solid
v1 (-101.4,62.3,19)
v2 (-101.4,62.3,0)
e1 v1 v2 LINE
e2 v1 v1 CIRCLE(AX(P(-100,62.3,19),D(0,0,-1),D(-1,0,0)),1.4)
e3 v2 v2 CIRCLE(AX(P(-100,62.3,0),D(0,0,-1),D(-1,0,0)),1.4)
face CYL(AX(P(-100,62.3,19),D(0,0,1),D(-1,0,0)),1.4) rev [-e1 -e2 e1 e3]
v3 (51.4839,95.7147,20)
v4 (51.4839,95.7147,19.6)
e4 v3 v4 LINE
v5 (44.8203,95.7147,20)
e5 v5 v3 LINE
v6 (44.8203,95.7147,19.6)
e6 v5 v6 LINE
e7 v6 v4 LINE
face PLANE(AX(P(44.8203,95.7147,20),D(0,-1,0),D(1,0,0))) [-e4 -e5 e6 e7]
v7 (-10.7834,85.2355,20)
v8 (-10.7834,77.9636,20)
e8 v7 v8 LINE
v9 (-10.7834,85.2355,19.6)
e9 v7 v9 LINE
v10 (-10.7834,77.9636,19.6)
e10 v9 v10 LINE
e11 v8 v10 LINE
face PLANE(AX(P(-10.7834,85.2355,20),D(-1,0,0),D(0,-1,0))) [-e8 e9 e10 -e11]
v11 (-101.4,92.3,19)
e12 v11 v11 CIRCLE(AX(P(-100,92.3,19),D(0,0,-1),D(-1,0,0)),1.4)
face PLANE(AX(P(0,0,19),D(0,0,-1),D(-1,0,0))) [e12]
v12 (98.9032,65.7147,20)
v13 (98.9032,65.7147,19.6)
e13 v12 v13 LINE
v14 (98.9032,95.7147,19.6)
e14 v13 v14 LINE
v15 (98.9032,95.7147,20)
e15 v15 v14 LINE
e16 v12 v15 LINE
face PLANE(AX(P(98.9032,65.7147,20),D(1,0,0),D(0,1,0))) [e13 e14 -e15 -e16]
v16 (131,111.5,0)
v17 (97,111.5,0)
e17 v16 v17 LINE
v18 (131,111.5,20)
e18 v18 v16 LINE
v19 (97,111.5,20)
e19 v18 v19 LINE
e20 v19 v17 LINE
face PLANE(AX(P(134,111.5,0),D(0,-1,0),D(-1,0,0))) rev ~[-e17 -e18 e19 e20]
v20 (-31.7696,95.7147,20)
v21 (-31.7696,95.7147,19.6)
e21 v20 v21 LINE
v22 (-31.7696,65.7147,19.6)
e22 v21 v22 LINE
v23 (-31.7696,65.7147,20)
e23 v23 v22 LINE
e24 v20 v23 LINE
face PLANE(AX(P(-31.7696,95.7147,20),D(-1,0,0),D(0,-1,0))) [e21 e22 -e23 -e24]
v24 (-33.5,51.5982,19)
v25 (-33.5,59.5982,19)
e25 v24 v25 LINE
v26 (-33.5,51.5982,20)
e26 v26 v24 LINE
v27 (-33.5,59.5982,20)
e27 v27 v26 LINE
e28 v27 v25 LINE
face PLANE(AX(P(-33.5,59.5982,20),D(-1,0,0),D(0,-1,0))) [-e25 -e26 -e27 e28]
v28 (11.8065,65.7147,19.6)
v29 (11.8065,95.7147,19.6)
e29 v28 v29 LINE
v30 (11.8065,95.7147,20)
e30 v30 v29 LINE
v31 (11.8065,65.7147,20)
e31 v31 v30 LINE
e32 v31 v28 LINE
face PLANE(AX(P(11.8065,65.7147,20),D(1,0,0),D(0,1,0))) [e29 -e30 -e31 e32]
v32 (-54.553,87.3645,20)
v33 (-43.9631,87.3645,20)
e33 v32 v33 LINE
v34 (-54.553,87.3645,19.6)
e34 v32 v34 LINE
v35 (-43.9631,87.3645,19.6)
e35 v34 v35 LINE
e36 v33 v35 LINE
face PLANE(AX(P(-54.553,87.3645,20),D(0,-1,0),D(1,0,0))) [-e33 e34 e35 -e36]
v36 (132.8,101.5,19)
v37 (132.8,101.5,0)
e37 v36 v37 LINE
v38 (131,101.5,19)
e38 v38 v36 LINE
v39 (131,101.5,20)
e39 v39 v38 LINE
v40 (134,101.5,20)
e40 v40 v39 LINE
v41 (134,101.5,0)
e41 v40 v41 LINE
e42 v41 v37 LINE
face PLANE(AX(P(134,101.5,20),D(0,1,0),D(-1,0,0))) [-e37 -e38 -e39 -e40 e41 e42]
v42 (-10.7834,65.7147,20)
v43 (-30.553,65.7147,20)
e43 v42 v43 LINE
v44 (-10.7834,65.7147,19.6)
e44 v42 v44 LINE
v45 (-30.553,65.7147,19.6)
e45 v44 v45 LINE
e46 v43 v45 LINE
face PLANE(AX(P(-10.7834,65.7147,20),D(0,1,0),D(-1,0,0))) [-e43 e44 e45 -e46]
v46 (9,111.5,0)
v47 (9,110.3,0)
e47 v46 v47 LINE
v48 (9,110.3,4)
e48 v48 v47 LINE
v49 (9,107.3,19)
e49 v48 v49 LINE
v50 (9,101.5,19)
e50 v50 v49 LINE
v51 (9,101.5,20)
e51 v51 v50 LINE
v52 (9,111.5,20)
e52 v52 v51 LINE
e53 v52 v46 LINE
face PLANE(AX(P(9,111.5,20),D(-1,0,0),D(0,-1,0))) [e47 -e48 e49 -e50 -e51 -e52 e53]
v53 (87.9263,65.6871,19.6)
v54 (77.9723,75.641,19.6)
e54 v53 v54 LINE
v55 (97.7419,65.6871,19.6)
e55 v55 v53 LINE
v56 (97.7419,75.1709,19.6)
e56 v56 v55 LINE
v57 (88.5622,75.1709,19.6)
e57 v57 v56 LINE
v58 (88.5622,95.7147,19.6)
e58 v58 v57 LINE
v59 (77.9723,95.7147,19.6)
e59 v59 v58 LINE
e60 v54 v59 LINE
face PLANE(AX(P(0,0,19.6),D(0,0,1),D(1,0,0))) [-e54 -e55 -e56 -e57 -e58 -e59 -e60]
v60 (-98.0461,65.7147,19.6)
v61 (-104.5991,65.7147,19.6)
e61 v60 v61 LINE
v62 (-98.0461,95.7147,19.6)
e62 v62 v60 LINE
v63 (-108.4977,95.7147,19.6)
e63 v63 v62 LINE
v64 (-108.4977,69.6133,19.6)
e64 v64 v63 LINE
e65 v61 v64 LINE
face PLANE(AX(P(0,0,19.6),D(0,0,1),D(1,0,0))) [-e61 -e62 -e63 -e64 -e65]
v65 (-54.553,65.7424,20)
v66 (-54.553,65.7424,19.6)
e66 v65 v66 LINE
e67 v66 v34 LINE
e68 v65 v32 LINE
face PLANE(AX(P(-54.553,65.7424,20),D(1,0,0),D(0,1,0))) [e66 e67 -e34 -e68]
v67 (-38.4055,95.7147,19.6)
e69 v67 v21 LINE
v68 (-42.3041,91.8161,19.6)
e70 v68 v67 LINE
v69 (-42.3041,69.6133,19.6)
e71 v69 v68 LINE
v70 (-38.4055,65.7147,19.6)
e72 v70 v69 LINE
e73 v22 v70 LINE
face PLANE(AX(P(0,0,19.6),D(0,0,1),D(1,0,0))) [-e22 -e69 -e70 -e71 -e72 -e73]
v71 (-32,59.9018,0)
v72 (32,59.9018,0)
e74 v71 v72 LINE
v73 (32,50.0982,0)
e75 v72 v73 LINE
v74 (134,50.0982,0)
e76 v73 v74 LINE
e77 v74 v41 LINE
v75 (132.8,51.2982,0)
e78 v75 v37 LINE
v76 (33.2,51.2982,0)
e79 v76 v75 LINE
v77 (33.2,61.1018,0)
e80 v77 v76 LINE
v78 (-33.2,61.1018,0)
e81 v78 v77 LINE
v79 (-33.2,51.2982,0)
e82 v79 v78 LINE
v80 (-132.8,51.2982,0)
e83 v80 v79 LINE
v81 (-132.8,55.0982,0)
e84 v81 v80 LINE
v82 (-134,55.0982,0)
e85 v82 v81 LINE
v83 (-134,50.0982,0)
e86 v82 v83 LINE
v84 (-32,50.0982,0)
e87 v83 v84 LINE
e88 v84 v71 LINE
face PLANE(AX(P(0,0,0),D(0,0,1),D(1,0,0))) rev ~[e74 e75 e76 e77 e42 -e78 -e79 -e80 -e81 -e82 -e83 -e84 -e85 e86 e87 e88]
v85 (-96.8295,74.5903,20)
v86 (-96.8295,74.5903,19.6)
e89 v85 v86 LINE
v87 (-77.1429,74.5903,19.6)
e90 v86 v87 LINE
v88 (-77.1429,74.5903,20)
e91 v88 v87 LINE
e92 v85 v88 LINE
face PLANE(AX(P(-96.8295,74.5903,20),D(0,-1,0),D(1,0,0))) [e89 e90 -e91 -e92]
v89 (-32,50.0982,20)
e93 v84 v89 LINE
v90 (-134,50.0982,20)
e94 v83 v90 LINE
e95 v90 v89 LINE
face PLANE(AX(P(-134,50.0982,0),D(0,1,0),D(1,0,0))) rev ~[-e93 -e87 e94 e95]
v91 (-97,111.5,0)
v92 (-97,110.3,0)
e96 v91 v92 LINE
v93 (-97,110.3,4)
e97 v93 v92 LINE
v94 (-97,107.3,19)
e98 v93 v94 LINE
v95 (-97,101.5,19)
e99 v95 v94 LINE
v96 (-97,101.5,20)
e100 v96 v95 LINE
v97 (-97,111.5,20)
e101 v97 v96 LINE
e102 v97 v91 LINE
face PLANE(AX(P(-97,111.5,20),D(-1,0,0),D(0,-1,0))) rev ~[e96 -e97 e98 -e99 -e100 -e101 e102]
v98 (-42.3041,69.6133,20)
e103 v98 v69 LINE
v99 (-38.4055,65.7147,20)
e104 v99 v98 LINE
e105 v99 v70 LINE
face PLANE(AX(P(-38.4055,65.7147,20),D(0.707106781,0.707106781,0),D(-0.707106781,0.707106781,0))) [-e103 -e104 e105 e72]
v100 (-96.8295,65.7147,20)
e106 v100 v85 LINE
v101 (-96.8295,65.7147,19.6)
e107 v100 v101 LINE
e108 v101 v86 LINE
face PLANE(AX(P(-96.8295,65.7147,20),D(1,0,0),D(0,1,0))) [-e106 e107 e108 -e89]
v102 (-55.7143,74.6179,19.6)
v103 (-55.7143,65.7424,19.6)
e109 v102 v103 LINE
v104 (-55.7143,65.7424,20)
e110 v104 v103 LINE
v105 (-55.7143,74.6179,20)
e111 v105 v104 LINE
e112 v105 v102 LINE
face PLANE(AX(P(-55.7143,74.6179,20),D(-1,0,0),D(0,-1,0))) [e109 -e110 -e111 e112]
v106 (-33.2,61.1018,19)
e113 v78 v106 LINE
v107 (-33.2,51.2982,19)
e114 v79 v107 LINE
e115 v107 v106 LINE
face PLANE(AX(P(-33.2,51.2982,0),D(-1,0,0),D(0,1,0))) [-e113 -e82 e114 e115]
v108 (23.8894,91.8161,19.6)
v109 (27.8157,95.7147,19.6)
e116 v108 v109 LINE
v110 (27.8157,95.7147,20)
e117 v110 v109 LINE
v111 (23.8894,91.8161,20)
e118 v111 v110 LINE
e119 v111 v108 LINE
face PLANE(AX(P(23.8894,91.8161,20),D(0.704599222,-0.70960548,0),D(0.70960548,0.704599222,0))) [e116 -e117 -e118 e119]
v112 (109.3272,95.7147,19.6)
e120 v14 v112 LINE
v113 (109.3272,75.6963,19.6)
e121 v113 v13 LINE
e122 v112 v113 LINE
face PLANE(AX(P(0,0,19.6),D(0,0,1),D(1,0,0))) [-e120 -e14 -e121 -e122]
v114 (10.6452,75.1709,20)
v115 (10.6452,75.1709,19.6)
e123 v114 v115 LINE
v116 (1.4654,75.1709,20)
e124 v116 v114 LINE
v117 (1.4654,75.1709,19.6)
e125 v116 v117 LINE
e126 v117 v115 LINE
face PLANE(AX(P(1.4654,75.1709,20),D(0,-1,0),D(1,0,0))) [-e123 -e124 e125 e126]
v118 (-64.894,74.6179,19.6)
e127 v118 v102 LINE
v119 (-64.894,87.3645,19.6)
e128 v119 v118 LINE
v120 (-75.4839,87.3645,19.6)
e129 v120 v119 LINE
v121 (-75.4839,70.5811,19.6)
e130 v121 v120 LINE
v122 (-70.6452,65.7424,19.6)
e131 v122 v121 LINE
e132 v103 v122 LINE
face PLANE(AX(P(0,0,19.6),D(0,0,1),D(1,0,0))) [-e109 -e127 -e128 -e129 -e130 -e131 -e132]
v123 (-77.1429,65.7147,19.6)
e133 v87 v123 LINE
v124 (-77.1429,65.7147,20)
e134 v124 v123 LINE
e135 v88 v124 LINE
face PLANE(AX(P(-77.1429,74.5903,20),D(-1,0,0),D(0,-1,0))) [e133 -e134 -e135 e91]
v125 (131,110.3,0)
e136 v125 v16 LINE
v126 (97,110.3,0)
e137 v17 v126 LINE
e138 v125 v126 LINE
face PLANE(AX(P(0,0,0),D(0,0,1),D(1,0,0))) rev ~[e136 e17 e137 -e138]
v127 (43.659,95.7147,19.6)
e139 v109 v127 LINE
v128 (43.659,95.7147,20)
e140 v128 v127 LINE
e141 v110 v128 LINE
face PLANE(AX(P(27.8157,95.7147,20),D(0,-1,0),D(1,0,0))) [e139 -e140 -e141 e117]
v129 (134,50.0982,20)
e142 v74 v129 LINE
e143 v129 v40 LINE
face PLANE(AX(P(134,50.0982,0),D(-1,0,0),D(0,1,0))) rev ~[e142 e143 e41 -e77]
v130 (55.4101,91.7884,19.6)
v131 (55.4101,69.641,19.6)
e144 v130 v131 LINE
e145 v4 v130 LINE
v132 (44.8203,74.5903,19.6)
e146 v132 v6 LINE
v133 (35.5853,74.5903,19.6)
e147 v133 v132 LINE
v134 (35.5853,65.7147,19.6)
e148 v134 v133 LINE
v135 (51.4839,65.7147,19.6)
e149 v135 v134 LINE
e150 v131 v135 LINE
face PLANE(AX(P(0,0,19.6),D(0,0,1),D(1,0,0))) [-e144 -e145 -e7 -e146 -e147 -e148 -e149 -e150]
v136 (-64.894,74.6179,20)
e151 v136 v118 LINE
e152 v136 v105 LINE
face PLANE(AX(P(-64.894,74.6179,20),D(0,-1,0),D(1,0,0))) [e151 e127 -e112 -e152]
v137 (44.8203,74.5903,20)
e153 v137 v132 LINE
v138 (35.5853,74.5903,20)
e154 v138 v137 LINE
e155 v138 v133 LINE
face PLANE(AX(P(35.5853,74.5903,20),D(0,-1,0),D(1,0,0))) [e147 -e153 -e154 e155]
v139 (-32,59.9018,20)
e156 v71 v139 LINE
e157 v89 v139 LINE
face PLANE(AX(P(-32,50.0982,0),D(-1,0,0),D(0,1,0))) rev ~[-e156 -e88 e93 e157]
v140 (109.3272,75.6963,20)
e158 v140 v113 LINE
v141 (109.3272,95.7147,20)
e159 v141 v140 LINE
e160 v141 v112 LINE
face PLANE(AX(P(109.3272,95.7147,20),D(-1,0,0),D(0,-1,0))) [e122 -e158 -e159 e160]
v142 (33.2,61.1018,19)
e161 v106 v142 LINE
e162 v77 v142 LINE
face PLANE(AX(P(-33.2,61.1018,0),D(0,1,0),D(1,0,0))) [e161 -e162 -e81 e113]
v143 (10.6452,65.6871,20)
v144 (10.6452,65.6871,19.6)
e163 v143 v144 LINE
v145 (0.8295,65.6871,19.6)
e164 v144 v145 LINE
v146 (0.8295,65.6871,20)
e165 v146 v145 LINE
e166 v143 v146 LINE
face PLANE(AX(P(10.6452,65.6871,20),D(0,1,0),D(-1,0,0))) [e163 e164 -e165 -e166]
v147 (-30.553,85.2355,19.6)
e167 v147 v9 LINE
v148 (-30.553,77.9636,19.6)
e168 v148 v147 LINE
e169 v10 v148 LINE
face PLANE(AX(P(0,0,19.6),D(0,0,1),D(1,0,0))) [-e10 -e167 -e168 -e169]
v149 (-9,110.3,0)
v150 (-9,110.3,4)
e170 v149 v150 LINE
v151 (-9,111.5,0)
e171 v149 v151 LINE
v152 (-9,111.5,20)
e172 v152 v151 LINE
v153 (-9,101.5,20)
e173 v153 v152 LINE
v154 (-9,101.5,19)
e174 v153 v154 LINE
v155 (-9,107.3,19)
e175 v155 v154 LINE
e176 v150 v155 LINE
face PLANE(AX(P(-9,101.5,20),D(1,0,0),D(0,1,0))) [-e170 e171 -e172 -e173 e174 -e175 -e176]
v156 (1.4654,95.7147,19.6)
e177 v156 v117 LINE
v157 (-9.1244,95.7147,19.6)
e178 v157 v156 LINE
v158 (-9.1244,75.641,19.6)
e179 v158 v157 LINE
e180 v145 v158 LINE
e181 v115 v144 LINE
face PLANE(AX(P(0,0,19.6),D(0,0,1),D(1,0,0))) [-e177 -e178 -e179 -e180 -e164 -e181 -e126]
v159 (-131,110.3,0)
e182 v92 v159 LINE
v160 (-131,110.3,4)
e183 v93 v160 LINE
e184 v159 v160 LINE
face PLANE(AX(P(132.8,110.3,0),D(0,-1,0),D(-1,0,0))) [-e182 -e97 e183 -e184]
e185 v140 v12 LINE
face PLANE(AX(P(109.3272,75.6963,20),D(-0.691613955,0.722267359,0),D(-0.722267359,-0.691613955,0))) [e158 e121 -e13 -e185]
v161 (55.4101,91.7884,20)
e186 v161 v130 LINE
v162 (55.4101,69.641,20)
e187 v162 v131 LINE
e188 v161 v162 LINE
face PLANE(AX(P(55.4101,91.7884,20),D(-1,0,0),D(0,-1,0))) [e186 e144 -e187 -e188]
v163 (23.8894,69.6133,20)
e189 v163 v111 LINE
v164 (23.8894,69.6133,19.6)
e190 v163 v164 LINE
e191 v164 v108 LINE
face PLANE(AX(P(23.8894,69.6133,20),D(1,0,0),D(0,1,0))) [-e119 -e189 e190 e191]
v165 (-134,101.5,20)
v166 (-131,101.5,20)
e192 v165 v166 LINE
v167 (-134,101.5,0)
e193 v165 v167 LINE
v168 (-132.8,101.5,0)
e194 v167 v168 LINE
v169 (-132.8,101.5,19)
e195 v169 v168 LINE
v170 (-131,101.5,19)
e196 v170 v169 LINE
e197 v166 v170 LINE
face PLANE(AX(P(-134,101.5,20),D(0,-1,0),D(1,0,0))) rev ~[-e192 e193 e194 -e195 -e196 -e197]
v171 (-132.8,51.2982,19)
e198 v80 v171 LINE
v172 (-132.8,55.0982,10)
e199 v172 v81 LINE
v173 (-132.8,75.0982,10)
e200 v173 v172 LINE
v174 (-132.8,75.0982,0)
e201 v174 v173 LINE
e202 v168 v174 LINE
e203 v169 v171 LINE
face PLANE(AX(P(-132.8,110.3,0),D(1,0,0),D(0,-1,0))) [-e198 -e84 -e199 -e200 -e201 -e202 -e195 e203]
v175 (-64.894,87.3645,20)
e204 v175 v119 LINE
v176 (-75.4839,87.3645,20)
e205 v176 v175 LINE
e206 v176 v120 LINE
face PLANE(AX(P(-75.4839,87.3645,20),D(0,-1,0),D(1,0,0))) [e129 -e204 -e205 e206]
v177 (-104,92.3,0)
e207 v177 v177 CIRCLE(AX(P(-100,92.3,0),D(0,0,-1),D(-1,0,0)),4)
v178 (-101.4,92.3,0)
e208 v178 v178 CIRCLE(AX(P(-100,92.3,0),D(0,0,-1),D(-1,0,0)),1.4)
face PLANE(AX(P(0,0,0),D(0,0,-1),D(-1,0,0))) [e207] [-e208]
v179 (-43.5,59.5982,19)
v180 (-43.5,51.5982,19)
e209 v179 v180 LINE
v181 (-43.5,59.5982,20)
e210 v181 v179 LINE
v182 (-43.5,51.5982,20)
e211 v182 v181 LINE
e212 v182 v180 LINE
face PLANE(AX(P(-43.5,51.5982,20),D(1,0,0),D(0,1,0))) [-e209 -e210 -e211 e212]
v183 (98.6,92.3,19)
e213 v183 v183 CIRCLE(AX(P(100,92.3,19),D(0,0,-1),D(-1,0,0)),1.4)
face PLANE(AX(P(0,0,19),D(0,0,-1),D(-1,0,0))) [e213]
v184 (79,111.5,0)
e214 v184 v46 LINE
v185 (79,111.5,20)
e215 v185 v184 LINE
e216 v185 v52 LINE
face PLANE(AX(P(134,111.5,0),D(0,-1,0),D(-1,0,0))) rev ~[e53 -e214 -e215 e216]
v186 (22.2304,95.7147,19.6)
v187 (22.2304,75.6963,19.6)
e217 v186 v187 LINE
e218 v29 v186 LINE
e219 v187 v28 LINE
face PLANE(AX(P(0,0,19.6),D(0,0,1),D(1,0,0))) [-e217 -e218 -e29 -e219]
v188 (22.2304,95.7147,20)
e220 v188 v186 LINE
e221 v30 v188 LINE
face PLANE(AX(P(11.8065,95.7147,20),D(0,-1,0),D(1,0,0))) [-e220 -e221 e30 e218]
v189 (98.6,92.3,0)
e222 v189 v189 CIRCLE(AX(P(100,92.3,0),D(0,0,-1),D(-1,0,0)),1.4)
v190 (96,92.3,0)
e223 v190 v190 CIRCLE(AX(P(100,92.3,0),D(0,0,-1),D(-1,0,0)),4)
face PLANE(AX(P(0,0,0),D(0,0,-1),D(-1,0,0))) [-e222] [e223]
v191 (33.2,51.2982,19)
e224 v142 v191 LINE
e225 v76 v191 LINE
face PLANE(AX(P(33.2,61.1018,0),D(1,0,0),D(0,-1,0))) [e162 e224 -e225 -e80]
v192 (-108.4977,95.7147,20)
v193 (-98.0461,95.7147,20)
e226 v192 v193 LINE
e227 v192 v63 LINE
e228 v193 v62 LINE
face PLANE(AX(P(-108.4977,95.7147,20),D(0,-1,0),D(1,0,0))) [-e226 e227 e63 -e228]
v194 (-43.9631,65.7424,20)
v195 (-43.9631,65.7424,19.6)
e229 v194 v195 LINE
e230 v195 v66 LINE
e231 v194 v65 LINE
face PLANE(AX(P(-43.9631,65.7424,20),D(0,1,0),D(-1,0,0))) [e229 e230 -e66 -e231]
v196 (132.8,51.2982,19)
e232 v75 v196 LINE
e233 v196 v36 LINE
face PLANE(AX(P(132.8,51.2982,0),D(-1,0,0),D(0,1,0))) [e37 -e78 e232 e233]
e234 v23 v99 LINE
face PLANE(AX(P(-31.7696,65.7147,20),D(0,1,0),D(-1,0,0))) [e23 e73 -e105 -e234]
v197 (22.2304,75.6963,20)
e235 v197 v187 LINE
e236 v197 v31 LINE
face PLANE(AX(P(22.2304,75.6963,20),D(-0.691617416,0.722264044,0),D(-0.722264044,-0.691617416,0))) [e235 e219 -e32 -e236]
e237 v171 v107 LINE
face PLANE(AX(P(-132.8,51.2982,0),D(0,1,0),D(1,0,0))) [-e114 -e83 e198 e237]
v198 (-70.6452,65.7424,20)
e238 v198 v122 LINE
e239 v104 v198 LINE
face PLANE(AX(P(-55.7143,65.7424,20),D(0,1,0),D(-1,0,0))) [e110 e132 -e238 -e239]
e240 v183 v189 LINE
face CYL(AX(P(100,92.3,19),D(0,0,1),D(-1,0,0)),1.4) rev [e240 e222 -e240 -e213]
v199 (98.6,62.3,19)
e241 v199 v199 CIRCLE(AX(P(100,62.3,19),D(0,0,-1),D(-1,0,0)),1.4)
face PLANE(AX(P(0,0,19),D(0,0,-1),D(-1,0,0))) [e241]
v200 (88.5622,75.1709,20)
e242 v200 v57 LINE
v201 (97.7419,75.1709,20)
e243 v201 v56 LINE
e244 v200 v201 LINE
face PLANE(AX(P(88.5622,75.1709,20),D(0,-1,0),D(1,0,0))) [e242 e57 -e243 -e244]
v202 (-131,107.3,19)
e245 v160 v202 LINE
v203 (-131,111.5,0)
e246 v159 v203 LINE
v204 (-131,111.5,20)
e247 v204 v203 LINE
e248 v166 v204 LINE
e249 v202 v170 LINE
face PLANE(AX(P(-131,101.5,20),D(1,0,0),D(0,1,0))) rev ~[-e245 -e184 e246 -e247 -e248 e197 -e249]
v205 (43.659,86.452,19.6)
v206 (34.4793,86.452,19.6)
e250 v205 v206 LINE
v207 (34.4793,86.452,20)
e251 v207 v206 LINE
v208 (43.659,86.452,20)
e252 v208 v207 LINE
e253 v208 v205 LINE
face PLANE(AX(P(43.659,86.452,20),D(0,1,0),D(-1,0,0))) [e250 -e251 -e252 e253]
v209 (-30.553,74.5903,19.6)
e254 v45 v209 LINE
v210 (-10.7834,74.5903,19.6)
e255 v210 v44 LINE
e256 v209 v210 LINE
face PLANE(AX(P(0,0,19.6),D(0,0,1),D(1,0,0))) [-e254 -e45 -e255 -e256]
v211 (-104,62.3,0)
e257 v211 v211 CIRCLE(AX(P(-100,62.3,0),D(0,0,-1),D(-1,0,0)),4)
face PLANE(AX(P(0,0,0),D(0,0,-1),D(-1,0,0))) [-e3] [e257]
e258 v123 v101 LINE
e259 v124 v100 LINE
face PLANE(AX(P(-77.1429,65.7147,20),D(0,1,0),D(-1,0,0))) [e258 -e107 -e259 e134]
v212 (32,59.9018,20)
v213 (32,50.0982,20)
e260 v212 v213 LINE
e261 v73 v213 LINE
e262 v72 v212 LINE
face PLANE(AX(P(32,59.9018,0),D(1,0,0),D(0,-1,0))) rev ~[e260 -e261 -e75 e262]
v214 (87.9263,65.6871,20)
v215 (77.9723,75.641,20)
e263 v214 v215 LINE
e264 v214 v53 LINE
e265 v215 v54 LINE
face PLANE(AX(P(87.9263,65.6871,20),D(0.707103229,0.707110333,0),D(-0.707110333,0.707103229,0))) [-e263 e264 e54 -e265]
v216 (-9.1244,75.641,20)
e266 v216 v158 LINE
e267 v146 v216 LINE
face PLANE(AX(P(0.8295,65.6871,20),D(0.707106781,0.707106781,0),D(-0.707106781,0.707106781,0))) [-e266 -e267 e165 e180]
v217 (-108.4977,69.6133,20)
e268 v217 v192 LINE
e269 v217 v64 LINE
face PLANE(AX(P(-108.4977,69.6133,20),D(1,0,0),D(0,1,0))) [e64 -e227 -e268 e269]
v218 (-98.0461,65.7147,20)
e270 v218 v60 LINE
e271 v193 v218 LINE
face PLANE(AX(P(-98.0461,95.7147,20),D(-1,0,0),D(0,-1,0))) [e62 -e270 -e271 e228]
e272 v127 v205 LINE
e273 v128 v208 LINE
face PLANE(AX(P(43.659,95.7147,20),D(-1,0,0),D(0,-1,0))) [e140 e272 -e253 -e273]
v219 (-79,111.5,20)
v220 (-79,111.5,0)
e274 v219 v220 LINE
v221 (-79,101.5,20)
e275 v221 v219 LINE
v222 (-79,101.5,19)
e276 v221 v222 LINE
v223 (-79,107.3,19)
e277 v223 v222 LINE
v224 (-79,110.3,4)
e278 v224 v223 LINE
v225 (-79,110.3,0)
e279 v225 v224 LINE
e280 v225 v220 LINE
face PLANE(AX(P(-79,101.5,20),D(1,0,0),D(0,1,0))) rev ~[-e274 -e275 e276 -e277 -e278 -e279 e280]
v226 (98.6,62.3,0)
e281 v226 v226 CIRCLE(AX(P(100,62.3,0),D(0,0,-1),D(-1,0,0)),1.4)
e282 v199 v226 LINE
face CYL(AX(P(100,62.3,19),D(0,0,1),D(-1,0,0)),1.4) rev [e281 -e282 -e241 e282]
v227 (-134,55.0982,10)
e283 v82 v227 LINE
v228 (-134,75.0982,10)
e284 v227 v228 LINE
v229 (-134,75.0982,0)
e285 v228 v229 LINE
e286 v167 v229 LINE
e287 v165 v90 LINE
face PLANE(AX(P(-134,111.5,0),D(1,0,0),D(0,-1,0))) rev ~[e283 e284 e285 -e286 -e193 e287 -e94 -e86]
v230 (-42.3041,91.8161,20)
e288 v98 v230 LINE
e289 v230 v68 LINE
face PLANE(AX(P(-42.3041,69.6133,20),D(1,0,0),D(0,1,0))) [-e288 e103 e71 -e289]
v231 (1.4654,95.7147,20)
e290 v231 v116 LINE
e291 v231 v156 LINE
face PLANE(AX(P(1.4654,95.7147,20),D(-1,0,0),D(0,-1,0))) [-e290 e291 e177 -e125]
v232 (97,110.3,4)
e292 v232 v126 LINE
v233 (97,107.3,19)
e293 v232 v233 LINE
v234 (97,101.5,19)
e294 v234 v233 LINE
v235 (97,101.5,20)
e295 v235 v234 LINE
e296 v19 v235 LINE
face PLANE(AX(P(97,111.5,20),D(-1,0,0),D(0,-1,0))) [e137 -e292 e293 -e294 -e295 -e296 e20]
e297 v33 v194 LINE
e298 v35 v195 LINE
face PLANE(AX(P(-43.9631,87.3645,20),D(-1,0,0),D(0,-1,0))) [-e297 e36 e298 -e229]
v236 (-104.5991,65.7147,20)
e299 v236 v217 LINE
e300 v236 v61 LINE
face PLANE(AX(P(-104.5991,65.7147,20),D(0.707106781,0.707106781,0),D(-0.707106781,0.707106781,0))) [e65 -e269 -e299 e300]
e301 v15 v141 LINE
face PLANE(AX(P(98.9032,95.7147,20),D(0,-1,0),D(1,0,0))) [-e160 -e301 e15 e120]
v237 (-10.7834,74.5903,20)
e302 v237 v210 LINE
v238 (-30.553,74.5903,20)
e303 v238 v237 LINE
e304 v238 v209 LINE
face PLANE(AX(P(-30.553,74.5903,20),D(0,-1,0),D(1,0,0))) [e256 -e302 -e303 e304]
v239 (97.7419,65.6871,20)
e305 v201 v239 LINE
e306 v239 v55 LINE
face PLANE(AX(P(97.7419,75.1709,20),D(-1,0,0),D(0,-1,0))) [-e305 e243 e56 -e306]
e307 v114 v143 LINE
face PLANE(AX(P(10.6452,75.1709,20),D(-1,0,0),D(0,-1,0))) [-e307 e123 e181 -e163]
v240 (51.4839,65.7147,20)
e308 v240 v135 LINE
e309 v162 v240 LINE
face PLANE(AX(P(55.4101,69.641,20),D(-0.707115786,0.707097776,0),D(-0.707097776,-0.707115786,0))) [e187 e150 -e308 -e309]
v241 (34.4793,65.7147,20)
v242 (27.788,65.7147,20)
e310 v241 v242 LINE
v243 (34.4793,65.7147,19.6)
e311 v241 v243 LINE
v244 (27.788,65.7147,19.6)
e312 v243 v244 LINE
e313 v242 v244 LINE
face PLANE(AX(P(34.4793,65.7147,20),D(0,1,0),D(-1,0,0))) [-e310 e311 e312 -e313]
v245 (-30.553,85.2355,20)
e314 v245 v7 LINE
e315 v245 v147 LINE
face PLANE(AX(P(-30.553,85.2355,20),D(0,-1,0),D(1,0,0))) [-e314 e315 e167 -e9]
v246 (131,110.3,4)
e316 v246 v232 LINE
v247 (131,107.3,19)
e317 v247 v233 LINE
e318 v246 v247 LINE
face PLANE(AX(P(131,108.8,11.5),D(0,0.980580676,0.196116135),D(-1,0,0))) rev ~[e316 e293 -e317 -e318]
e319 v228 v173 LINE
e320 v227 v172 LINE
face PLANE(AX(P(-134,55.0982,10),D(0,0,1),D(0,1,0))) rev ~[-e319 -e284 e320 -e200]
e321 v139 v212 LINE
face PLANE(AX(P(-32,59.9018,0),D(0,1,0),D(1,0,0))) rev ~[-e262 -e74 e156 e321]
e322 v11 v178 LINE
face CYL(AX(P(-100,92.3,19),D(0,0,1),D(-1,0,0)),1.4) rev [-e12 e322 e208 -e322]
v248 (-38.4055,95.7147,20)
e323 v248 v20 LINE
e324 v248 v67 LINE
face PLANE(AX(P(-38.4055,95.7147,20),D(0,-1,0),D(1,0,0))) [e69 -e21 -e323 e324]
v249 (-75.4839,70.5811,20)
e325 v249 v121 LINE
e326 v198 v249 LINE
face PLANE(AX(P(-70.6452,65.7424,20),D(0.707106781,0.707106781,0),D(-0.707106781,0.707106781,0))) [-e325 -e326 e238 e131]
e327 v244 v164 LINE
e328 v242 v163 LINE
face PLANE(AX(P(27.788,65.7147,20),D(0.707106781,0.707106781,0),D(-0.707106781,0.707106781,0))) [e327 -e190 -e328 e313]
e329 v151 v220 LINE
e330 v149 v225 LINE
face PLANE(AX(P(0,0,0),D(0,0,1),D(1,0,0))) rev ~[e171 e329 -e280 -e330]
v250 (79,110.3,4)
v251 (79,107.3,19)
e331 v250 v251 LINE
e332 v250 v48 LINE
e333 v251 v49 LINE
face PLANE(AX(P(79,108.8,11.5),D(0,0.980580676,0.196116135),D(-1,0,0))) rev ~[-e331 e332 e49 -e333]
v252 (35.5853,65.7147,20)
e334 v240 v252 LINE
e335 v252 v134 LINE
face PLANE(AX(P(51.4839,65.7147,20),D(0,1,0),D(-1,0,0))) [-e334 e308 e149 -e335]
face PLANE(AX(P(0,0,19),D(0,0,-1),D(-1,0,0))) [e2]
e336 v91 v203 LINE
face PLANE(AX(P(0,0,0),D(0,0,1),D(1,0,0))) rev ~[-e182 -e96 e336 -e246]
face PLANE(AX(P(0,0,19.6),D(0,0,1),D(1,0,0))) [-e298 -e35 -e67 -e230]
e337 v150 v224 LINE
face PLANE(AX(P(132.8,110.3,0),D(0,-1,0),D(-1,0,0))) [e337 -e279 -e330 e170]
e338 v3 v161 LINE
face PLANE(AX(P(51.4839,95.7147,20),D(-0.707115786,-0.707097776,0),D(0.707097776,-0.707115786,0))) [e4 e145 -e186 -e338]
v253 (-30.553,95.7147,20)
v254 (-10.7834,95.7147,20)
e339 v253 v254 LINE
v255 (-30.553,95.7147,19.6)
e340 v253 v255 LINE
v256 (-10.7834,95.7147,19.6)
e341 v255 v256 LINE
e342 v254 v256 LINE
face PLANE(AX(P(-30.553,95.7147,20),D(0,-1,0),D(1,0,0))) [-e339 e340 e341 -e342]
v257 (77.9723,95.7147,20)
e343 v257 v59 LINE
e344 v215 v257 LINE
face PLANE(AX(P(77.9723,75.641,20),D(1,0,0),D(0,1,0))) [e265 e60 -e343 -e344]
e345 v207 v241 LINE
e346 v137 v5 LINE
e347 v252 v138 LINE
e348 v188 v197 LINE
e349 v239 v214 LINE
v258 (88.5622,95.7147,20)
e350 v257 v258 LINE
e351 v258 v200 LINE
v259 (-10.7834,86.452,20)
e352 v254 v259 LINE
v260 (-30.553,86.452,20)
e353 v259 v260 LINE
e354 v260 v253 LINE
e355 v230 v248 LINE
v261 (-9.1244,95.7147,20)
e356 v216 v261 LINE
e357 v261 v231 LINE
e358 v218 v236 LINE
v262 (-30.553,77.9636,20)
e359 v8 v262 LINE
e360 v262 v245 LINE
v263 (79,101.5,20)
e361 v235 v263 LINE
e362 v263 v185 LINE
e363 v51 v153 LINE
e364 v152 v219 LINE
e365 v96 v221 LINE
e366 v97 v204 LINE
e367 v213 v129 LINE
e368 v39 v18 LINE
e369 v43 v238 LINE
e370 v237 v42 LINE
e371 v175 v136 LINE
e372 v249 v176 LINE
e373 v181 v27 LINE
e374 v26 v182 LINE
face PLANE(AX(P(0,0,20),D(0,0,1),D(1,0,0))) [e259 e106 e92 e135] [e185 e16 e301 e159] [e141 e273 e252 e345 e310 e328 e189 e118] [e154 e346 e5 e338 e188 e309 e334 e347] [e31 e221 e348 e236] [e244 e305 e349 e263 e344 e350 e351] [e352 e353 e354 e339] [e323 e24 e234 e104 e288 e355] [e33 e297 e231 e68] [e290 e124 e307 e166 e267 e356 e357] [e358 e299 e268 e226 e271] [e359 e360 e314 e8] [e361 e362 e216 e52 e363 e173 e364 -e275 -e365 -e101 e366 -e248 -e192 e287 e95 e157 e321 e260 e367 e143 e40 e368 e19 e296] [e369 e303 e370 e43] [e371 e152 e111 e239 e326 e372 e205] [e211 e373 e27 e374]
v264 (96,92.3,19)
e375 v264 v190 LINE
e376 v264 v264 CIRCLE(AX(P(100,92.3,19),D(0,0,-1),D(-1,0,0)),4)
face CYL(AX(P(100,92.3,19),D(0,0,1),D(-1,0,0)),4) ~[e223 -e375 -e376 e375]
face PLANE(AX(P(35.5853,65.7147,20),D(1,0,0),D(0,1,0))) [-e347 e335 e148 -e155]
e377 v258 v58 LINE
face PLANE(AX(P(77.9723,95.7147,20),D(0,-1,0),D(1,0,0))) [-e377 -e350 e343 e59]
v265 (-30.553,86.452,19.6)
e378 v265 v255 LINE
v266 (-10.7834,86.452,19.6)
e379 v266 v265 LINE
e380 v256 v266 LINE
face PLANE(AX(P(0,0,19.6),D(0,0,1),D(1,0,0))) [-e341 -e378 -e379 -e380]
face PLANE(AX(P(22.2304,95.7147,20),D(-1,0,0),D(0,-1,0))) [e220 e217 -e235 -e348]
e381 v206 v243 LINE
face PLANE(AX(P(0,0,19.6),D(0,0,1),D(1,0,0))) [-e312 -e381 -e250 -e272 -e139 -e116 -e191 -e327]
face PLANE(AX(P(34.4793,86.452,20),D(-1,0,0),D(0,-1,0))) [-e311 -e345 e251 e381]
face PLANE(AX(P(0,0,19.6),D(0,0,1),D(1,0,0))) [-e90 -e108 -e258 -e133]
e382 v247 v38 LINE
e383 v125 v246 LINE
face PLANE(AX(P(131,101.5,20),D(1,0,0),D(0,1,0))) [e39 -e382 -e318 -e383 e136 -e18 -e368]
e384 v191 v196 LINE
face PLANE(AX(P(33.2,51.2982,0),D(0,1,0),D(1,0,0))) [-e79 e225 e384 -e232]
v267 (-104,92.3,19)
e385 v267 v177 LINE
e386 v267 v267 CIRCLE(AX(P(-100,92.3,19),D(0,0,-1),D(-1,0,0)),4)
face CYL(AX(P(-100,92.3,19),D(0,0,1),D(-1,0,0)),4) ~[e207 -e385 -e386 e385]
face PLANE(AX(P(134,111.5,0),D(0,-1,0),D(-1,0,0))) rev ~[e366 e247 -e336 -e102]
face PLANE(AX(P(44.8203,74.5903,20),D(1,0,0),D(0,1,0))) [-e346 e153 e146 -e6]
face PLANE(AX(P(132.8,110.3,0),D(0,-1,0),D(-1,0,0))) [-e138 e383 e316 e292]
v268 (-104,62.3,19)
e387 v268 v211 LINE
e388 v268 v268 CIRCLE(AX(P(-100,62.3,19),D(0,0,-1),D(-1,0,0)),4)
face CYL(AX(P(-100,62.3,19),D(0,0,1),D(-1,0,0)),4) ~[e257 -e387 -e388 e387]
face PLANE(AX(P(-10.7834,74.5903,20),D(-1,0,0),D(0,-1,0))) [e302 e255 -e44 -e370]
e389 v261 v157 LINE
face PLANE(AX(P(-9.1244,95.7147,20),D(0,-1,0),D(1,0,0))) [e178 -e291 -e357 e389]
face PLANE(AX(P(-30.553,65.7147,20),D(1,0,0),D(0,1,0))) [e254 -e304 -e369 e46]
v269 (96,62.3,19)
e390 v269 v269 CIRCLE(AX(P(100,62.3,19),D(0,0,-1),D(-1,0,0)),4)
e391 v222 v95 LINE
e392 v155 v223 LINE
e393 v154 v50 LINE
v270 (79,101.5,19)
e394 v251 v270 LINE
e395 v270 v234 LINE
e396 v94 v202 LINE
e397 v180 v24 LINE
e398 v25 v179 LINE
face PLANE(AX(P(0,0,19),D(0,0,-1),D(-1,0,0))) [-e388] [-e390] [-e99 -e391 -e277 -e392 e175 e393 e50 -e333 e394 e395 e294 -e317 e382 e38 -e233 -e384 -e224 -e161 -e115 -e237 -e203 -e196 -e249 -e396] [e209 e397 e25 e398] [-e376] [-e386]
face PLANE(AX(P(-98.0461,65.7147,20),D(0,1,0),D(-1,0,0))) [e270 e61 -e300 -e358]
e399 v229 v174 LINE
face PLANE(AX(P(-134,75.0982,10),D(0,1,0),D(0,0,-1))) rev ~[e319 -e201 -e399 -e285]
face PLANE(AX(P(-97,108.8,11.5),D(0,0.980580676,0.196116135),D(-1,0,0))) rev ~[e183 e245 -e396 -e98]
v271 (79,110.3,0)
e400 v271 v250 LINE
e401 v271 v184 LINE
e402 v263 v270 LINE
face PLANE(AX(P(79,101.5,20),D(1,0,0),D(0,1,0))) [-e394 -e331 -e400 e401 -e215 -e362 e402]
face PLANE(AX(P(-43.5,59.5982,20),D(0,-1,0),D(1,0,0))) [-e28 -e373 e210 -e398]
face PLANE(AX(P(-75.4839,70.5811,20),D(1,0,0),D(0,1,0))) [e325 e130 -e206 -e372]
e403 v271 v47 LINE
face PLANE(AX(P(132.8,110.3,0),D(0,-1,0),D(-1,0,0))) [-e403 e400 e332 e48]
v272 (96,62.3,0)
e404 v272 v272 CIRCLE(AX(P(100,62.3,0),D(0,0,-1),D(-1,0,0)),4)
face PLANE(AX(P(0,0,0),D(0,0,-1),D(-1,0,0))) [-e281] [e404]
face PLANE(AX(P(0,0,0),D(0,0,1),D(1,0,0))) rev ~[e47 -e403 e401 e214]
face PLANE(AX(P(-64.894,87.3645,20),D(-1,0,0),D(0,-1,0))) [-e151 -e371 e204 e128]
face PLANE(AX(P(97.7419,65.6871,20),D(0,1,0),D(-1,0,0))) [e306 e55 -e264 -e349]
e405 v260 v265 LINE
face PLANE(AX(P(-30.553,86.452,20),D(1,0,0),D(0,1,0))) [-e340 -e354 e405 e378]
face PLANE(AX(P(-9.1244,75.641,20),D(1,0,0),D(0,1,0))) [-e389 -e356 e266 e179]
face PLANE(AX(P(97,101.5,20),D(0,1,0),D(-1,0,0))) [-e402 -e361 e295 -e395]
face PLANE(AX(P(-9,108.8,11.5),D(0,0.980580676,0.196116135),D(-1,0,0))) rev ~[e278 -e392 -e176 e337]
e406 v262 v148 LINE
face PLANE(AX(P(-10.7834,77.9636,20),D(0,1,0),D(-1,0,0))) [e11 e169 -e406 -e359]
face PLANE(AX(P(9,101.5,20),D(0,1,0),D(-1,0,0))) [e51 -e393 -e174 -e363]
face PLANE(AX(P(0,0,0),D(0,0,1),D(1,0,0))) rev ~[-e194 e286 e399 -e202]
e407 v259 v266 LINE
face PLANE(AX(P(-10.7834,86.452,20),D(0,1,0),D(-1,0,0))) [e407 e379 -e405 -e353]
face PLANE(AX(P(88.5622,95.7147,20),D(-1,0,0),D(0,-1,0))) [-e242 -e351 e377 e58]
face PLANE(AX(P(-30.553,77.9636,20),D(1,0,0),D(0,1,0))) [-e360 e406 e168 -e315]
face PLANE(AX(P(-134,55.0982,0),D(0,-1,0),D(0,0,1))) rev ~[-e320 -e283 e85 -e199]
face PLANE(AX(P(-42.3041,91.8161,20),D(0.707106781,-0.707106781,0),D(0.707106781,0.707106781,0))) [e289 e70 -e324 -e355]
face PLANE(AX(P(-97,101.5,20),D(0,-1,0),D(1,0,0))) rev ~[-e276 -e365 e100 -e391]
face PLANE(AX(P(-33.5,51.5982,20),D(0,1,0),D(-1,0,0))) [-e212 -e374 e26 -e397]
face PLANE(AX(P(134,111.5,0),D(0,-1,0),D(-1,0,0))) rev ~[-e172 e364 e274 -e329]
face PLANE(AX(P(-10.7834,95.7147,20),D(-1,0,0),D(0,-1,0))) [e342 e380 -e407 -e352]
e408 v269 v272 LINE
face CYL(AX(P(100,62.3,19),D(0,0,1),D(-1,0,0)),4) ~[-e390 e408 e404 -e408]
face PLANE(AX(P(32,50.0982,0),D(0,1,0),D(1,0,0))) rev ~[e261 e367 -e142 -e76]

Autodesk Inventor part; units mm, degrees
ref_plane "YZ Plane" through (0, 0, 0) normal (1, 0, 0) x (0, 1, 0)
ref_plane "XZ Plane" through (0, 0, 0) normal (0, 1, 0) x (-1, 0, 0)
ref_plane "XY Plane" through (0, 0, 0) normal (0, 0, 1) x (1, 0, 0)
sketch "Sketch1" plane through (0, 0, 0) normal (0, 0, 1) x (1, 0, 0)
  line L0 (-105.5, 113.5) -> (-109, 117) projected
  line L1 (-105.5, 113.5) -> (-70.5, 113.5) projected
  line L2 (-67, 117) -> (-70.5, 113.5) projected
  line L3 (-67, 117) -> (-67, 152) projected
  line L4 (-70.5, 155.5) -> (-67, 152) projected
  line L5 (-70.5, 155.5) -> (-105.5, 155.5) projected
  line L6 (-109, 152) -> (-105.5, 155.5) projected
  line L7 (-109, 152) -> (-109, 117) projected
  line L8 (-17.5, 113.5) -> (-21, 117) projected
  line L9 (-17.5, 113.5) -> (17.5, 113.5) projected
  line L10 (21, 117) -> (17.5, 113.5) projected
  line L11 (21, 117) -> (21, 152) projected
  line L12 (17.5, 155.5) -> (21, 152) projected
  line L13 (17.5, 155.5) -> (-17.5, 155.5) projected
  line L14 (-21, 152) -> (-17.5, 155.5) projected
  line L15 (-21, 152) -> (-21, 117) projected
  line L16 (70.5, 113.5) -> (67, 117) projected
  line L17 (70.5, 113.5) -> (105.5, 113.5) projected
  line L18 (109, 117) -> (105.5, 113.5) projected
  line L19 (109, 117) -> (109, 152) projected
  line L20 (105.5, 155.5) -> (109, 152) projected
  line L21 (105.5, 155.5) -> (70.5, 155.5) projected
  line L22 (67, 152) -> (70.5, 155.5) projected
  line L23 (67, 152) -> (67, 117) projected
  circle A0 centre (25, 54.5) radius 1.45 projected
  circle A1 centre (-25, 54.5) radius 1.45 projected
  line L24 (31, 58.9018) -> (31, 50.0982) projected
  line L25 (31, 50.0982) -> (-31, 50.0982) projected
  line L26 (-31, 58.9018) -> (-31, 50.0982) projected
  line L27 (31, 58.9018) -> (-31, 58.9018) projected
  line L28 (134, 111.5) -> (-134, 111.5)
  line L29 (-134, 111.5) -> (-134, 50.0982)
  line L30 (-134, 50.0982) -> (-32, 50.0982)
  line L31 (-32, 50.0982) -> (-32, 59.9018)
  line L32 (-32, 59.9018) -> (32, 59.9018)
  line L33 (32, 59.9018) -> (32, 50.0982)
  line L34 (32, 50.0982) -> (134, 50.0982)
  line L35 (134, 50.0982) -> (134, 111.5)
  point P0 (0, 0)
  dimension "d0" = 25
  dimension "d1" = 25
  dimension "d2" = 2
  dimension "d3" = 268
  dimension "d4" = 1
  dimension "d5" = 1
  dimension "d6" = 1
extrude "Extrusion1" add sketch "Sketch1" along normal blind 20 contours L35 L34 L33 L32 L31 L30 L29 L28
sketch "Sketch2" plane through (0, 0, 0) normal (0, 0, -1) x (-1, 0, 0)
  line L0 (134, 111.5) -> (134, 50.0982) projected
  line L1 (-134, 111.5) -> (134, 111.5) projected
  line L2 (-134, 50.0982) -> (-134, 111.5) projected
  line L3 (-32, 50.0982) -> (-134, 50.0982) projected
  line L4 (-32, 59.9018) -> (-32, 50.0982) projected
  line L5 (32, 59.9018) -> (-32, 59.9018) projected
  line L6 (32, 50.0982) -> (32, 59.9018) projected
  line L7 (134, 50.0982) -> (32, 50.0982) projected
  line L8 (132.8, 110.3) -> (132.8, 51.2982)
  line L9 (132.8, 51.2982) -> (33.2, 51.2982)
  line L10 (33.2, 51.2982) -> (33.2, 61.1018)
  line L11 (33.2, 61.1018) -> (-33.2, 61.1018)
  line L12 (-33.2, 61.1018) -> (-33.2, 51.2982)
  line L13 (-33.2, 51.2982) -> (-132.8, 51.2982)
  line L14 (-132.8, 51.2982) -> (-132.8, 110.3)
  line L15 (-132.8, 110.3) -> (132.8, 110.3)
  point P0 (0, 0)
  dimension "d9" = 1.2
extrude "Extrusion2" cut sketch "Sketch2" against normal blind 19 contours L8 L9 L10 L11 L12 L13 L14 L15
sketch "Sketch3" plane through (0, 0, 20) normal (0, 0, 1) x (1, 0, 0)
  line L0 (-134, 111.5) -> (-134, 50.0982) projected
  line L1 (-134, 50.0982) -> (-32, 50.0982) projected
  line L2 (-32, 50.0982) -> (-32, 59.9018) projected
  line L3 (-32, 59.9018) -> (32, 59.9018) projected
  line L4 (32, 59.9018) -> (32, 50.0982) projected
  line L5 (32, 50.0982) -> (134, 50.0982) projected
  line L6 (134, 50.0982) -> (134, 111.5) projected
  line L7 (134, 111.5) -> (-134, 111.5) projected
  line L8 (-33.5, 51.5982) -> (-43.5, 51.5982)
  line L9 (-43.5, 51.5982) -> (-43.5, 59.5982)
  line L10 (-43.5, 59.5982) -> (-33.5, 59.5982)
  line L11 (-33.5, 59.5982) -> (-33.5, 51.5982)
  line L12 (134, 111.5) -> (-134, 111.5) projected
  line L13 (9, 101.5) -> (-9, 101.5)
  line L14 (-9, 101.5) -> (-9, 111.5)
  line L15 (-9, 111.5) -> (9, 111.5)
  line L16 (9, 111.5) -> (9, 101.5)
  line L17 (9, 101.5) -> (-9, 111.5) construction
  line L18 (-9, 101.5) -> (9, 111.5) construction
  line L19 (-97, 101.5) -> (-79, 101.5)
  line L20 (-79, 101.5) -> (-79, 111.5)
  line L21 (-79, 111.5) -> (-97, 111.5)
  line L22 (-97, 111.5) -> (-97, 101.5)
  line L23 (-97, 101.5) -> (-79, 111.5) construction
  line L24 (-79, 101.5) -> (-97, 111.5) construction
  line L25 (97, 101.5) -> (79, 101.5)
  line L26 (79, 101.5) -> (79, 111.5)
  line L27 (79, 111.5) -> (97, 111.5)
  line L28 (97, 111.5) -> (97, 101.5)
  line L29 (97, 101.5) -> (79, 111.5) construction
  line L30 (79, 101.5) -> (97, 111.5) construction
  line L31 (-131, 111.5) -> (-134, 111.5)
  line L32 (-134, 111.5) -> (-134, 101.5)
  line L33 (-134, 101.5) -> (-131, 101.5)
  line L34 (-131, 101.5) -> (-131, 111.5)
  line L35 (131, 111.5) -> (134, 111.5)
  line L36 (134, 111.5) -> (134, 101.5)
  line L37 (134, 101.5) -> (131, 101.5)
  line L38 (131, 101.5) -> (131, 111.5)
  point P0 (0, 0)
  point P1 (-33.5, 55.5982)
  point P2 (0, 106.5)
  point P3 (-88, 106.5)
  point P4 (88, 106.5)
  point P5 (9, 111.5)
  point P6 (-9, 111.5)
  point P7 (-97, 111.5)
  point P8 (0, 59.9018)
  dimension "d12" = 1.5
  dimension "d13" = 1.5
  dimension "d14" = 10
  dimension "d15" = 8
  dimension "d18" = 18
  dimension "d19" = 10
  dimension "d25" = 3
  dimension "d26" = 88
  dimension "d27" = 88
extrude "Extrusion3" cut sketch "Sketch3" against normal through all contours L7 L34 L33 L0 | L7 L20 L19 L22 | L7 L16 L13 L14 | L7 L28 L25 L26 | L37 L38 L7 L6 | L8 L9 L10 L11
sketch "Sketch4" plane through (-134, 50.0982, 0) normal (-1, 0, 0) x (0, 0, 1)
  line L0 (0, 51.4018) -> (0, 0) projected
  line L1 (0, 0) -> (20, 0) projected
  line L2 (20, 51.4018) -> (20, 0) projected
  line L3 (0, 9.8036) -> (0, 0) projected
  line L4 (0, 5) -> (10, 5)
  line L5 (10, 5) -> (10, 25)
  line L6 (10, 25) -> (0, 25)
  line L7 (0, 25) -> (0, 5)
  line L8 (20, 51.4018) -> (0, 51.4018) projected
  point P0 (0, -50.0982)
  point P1 (0, 25)
  dimension "d20" = 5
  dimension "d21" = 20
  dimension "d22" = 10
extrude "Extrusion4" cut sketch "Sketch4" against normal up to surface (55 mm away) contours L6 L5 L4 L0
chamfer "Chamfer1" distance 15 distance2 3 1 edges at (114, 110.3, 19) measured on face at (108.3333, 110.3, 6.3333)
chamfer "Chamfer2" distance 15 distance2 3 1 edges at (44, 110.3, 19) measured on face at (32.3333, 110.3, 6.3333)
chamfer "Chamfer3" distance 15 distance2 3 1 edges at (-44, 110.3, 19) measured on face at (-55.6667, 110.3, 6.3333)
chamfer "Chamfer4" distance 15 distance2 3 1 edges at (-114, 110.3, 19) measured on face at (-119.6667, 110.3, 12.6667)
sketch "Sketch6" plane through (0, 0, 20) normal (0, 0, 1) x (1, 0, 0)
  line L0 (-97, 101.5) -> (-97, 111.5) projected
  line L1 (-97, 111.5) -> (-131, 111.5) projected
  line L2 (-131, 111.5) -> (-131, 101.5) projected
  line L3 (-131, 101.5) -> (-134, 101.5) projected
  line L4 (-134, 101.5) -> (-134, 50.0982) projected
  line L5 (-134, 50.0982) -> (-32, 50.0982) projected
  line L6 (-32, 50.0982) -> (-32, 59.9018) projected
  line L7 (-32, 59.9018) -> (32, 59.9018) projected
  line L8 (32, 59.9018) -> (32, 50.0982) projected
  line L9 (32, 50.0982) -> (134, 50.0982) projected
  line L10 (134, 50.0982) -> (134, 101.5) projected
  line L11 (134, 101.5) -> (131, 101.5) projected
  line L12 (131, 101.5) -> (131, 111.5) projected
  line L13 (131, 111.5) -> (97, 111.5) projected
  line L14 (97, 111.5) -> (97, 101.5) projected
  line L15 (97, 101.5) -> (79, 101.5) projected
  line L16 (79, 101.5) -> (79, 111.5) projected
  line L17 (79, 111.5) -> (9, 111.5) projected
  line L18 (9, 111.5) -> (9, 101.5) projected
  line L19 (9, 101.5) -> (-9, 101.5) projected
  line L20 (-9, 101.5) -> (-9, 111.5) projected
  line L21 (-9, 111.5) -> (-79, 111.5) projected
  line L22 (-79, 111.5) -> (-79, 101.5) projected
  line L23 (-79, 101.5) -> (-97, 101.5) projected
  line L24 (-43.5, 51.5982) -> (-43.5, 59.5982) projected
  line L25 (-43.5, 59.5982) -> (-33.5, 59.5982) projected
  line L26 (-33.5, 59.5982) -> (-33.5, 51.5982) projected
  line L27 (-33.5, 51.5982) -> (-43.5, 51.5982) projected
  line L28 (-134, 101.5) -> (134, 101.5) construction
  line L29 (134, 101.5) -> (134, 59.9018) construction
  line L30 (134, 59.9018) -> (-134, 59.9018) construction
  line L31 (-134, 59.9018) -> (-134, 101.5) construction
  line L32 (-104.5991, 65.7147) -> (-108.4977, 69.6133)
  line L33 (-108.4977, 69.6133) -> (-108.4977, 95.7147)
  line L34 (-108.4977, 95.7147) -> (-98.0461, 95.7147)
  line L35 (-98.0461, 95.7147) -> (-98.0461, 65.7147)
  line L36 (-98.0461, 65.7147) -> (-104.5991, 65.7147)
  line L37 (-96.8295, 65.7147) -> (-96.8295, 74.5903)
  line L38 (-96.8295, 74.5903) -> (-77.1429, 74.5903)
  line L39 (-77.1429, 74.5903) -> (-77.1429, 65.7147)
  line L40 (-77.1429, 65.7147) -> (-96.8295, 65.7147)
  line L41 (-55.7143, 65.7424) -> (-70.6452, 65.7424)
  line L42 (-70.6452, 65.7424) -> (-75.4839, 70.5811)
  line L43 (-75.4839, 70.5811) -> (-75.4839, 87.3645)
  line L44 (-75.4839, 87.3645) -> (-64.894, 87.3645)
  line L45 (-64.894, 87.3645) -> (-64.894, 74.6179)
  line L46 (-64.894, 74.6179) -> (-55.7143, 74.6179)
  line L47 (-55.7143, 74.6179) -> (-55.7143, 65.7424)
  line L48 (-43.9631, 65.7424) -> (-54.553, 65.7424)
  line L49 (-54.553, 65.7424) -> (-54.553, 87.3645)
  line L50 (-54.553, 87.3645) -> (-43.9631, 87.3645)
  line L51 (-43.9631, 87.3645) -> (-43.9631, 65.7424)
  line L52 (-31.7696, 65.7147) -> (-38.4055, 65.7147)
  line L53 (-38.4055, 65.7147) -> (-42.3041, 69.6133)
  line L54 (-42.3041, 69.6133) -> (-42.3041, 91.8161)
  line L55 (-42.3041, 91.8161) -> (-38.4055, 95.7147)
  line L56 (-38.4055, 95.7147) -> (-31.7696, 95.7147)
  line L57 (-31.7696, 95.7147) -> (-31.7696, 65.7147)
  line L58 (-10.7834, 86.452) -> (-30.553, 86.452)
  line L59 (-30.553, 86.452) -> (-30.553, 95.7147)
  line L60 (-30.553, 95.7147) -> (-10.7834, 95.7147)
  line L61 (-10.7834, 95.7147) -> (-10.7834, 86.452)
  line L62 (-10.7834, 65.7147) -> (-30.553, 65.7147)
  line L63 (-30.553, 65.7147) -> (-30.553, 74.5903)
  line L64 (-30.553, 74.5903) -> (-10.7834, 74.5903)
  line L65 (-10.7834, 74.5903) -> (-10.7834, 65.7147)
  line L66 (-10.7834, 77.9636) -> (-30.553, 77.9636)
  line L67 (-30.553, 77.9636) -> (-30.553, 85.2355)
  line L68 (-30.553, 85.2355) -> (-10.7834, 85.2355)
  line L69 (-10.7834, 85.2355) -> (-10.7834, 77.9636)
  line L70 (10.6452, 65.6871) -> (0.8295, 65.6871)
  line L71 (0.8295, 65.6871) -> (-9.1244, 75.641)
  line L72 (-9.1244, 75.641) -> (-9.1244, 95.7147)
  line L73 (-9.1244, 95.7147) -> (1.4654, 95.7147)
  line L74 (1.4654, 95.7147) -> (1.4654, 75.1709)
  line L75 (1.4654, 75.1709) -> (10.6452, 75.1709)
  line L76 (10.6452, 75.1709) -> (10.6452, 65.6871)
  line L77 (11.8065, 65.7147) -> (11.8065, 95.7147)
  line L78 (11.8065, 95.7147) -> (22.2304, 95.7147)
  line L79 (22.2304, 95.7147) -> (22.2304, 75.6963)
  line L80 (22.2304, 75.6963) -> (11.8065, 65.7147)
  line L81 (34.4793, 65.7147) -> (27.788, 65.7147)
  line L82 (27.788, 65.7147) -> (23.8894, 69.6133)
  line L83 (23.8894, 69.6133) -> (23.8894, 91.8161)
  line L84 (23.8894, 91.8161) -> (27.8157, 95.7147)
  line L85 (27.8157, 95.7147) -> (43.659, 95.7147)
  line L86 (43.659, 95.7147) -> (43.659, 86.452)
  line L87 (43.659, 86.452) -> (34.4793, 86.452)
  line L88 (34.4793, 86.452) -> (34.4793, 65.7147)
  line L89 (55.4101, 69.641) -> (51.4839, 65.7147)
  line L90 (51.4839, 65.7147) -> (35.5853, 65.7147)
  line L91 (35.5853, 65.7147) -> (35.5853, 74.5903)
  line L92 (35.5853, 74.5903) -> (44.8203, 74.5903)
  line L93 (44.8203, 74.5903) -> (44.8203, 95.7147)
  line L94 (44.8203, 95.7147) -> (51.4839, 95.7147)
  line L95 (51.4839, 95.7147) -> (55.4101, 91.7884)
  line L96 (55.4101, 91.7884) -> (55.4101, 69.641)
  line L97 (97.7419, 65.6871) -> (87.9263, 65.6871)
  line L98 (87.9263, 65.6871) -> (77.9723, 75.641)
  line L99 (77.9723, 75.641) -> (77.9723, 95.7147)
  line L100 (77.9723, 95.7147) -> (88.5622, 95.7147)
  line L101 (88.5622, 95.7147) -> (88.5622, 75.1709)
  line L102 (88.5622, 75.1709) -> (97.7419, 75.1709)
  line L103 (97.7419, 75.1709) -> (97.7419, 65.6871)
  line L104 (98.9032, 65.7147) -> (98.9032, 95.7147)
  line L105 (98.9032, 95.7147) -> (109.3272, 95.7147)
  line L106 (109.3272, 95.7147) -> (109.3272, 75.6963)
  line L107 (109.3272, 75.6963) -> (98.9032, 65.7147)
  point P0 (0, 0)
extrude "Extrusion5" cut sketch "Sketch6" against normal blind 0.4 contours L32 L33 L34 L35 L36 | L37 L38 L39 L40 | L41 L42 L43 L44 L45 L46 L47 | L48 L49 L50 L51 | L52 L53 L54 L55 L56 L57 | L58 L59 L60 L61 | L62 L63 L64 L65 | L66 L67 L68 L69 | L70 L71 L72 L73 L74 L75 L76 | L77 L78 L79 L80 | L81 L82 L83 L84 L85 L86 L87 L88 | L89 L90 L91 L92 L93 L94 L95 L96 | L97 L98 L99 L100 L101 L102 L103 | L104 L105 L106 L107
sketch "Sketch7" plane through (0, 0, 19) normal (0, 0, -1) x (-1, 0, 0)
  line L0 (43.5, 59.5982) -> (43.5, 51.5982) projected
  line L1 (43.5, 51.5982) -> (33.5, 51.5982) projected
  line L2 (33.5, 51.5982) -> (33.5, 59.5982) projected
  line L3 (33.5, 59.5982) -> (43.5, 59.5982) projected
  line L4 (97, 107.3) -> (131, 107.3) projected
  line L5 (97, 107.3) -> (97, 101.5) projected
  line L6 (97, 101.5) -> (79, 101.5) projected
  line L7 (79, 101.5) -> (79, 107.3) projected
  line L8 (9, 107.3) -> (79, 107.3) projected
  line L9 (9, 107.3) -> (9, 101.5) projected
  line L10 (9, 101.5) -> (-9, 101.5) projected
  line L11 (-9, 101.5) -> (-9, 107.3) projected
  line L12 (-79, 107.3) -> (-9, 107.3) projected
  line L13 (-79, 107.3) -> (-79, 101.5) projected
  line L14 (-79, 101.5) -> (-97, 101.5) projected
  line L15 (-97, 101.5) -> (-97, 107.3) projected
  line L16 (-131, 107.3) -> (-97, 107.3) projected
  line L17 (-131, 107.3) -> (-131, 101.5) projected
  line L18 (-131, 101.5) -> (-132.8, 101.5) projected
  line L19 (-132.8, 51.2982) -> (-132.8, 101.5) projected
  line L20 (-33.2, 51.2982) -> (-132.8, 51.2982) projected
  line L21 (-33.2, 61.1018) -> (-33.2, 51.2982) projected
  line L22 (33.2, 61.1018) -> (-33.2, 61.1018) projected
  line L23 (33.2, 51.2982) -> (33.2, 61.1018) projected
  line L24 (132.8, 51.2982) -> (33.2, 51.2982) projected
  line L25 (132.8, 101.5) -> (132.8, 51.2982) projected
  line L26 (132.8, 101.5) -> (131, 101.5) projected
  line L27 (131, 101.5) -> (131, 107.3) projected
  circle A0 centre (100, 92.3) radius 1.4
  circle A1 centre (100, 92.3) radius 4
  circle A2 centre (100, 62.3) radius 1.4
  circle A3 centre (100, 62.3) radius 4
  circle A4 centre (-100, 92.3) radius 1.4
  circle A5 centre (-100, 92.3) radius 4
  circle A6 centre (-100, 62.3) radius 1.4
  circle A7 centre (-100, 62.3) radius 4
  point P0 (0, 0)
  point P1 (0, 101.5)
  dimension "d42" = 2.8
  dimension "d43" = 8
  dimension "d46" = 30
  dimension "d49" = 200
  dimension "d52" = 100
  dimension "d53" = 15
extrude "Extrusion6" add sketch "Sketch7" along normal up to surface (19 mm away) contours A1 | A3 | A5 | A7
equation "\"d1\" = d0"
equation "\"d5\" = d4"
equation "\"d6\" = d4"
equation "\"d13\" = d12"
equation "\"d27\" = d26"
equation "\"d52\" = 0.5 * d49"
properties part number "WiringCover" material "ABS Plastic"
